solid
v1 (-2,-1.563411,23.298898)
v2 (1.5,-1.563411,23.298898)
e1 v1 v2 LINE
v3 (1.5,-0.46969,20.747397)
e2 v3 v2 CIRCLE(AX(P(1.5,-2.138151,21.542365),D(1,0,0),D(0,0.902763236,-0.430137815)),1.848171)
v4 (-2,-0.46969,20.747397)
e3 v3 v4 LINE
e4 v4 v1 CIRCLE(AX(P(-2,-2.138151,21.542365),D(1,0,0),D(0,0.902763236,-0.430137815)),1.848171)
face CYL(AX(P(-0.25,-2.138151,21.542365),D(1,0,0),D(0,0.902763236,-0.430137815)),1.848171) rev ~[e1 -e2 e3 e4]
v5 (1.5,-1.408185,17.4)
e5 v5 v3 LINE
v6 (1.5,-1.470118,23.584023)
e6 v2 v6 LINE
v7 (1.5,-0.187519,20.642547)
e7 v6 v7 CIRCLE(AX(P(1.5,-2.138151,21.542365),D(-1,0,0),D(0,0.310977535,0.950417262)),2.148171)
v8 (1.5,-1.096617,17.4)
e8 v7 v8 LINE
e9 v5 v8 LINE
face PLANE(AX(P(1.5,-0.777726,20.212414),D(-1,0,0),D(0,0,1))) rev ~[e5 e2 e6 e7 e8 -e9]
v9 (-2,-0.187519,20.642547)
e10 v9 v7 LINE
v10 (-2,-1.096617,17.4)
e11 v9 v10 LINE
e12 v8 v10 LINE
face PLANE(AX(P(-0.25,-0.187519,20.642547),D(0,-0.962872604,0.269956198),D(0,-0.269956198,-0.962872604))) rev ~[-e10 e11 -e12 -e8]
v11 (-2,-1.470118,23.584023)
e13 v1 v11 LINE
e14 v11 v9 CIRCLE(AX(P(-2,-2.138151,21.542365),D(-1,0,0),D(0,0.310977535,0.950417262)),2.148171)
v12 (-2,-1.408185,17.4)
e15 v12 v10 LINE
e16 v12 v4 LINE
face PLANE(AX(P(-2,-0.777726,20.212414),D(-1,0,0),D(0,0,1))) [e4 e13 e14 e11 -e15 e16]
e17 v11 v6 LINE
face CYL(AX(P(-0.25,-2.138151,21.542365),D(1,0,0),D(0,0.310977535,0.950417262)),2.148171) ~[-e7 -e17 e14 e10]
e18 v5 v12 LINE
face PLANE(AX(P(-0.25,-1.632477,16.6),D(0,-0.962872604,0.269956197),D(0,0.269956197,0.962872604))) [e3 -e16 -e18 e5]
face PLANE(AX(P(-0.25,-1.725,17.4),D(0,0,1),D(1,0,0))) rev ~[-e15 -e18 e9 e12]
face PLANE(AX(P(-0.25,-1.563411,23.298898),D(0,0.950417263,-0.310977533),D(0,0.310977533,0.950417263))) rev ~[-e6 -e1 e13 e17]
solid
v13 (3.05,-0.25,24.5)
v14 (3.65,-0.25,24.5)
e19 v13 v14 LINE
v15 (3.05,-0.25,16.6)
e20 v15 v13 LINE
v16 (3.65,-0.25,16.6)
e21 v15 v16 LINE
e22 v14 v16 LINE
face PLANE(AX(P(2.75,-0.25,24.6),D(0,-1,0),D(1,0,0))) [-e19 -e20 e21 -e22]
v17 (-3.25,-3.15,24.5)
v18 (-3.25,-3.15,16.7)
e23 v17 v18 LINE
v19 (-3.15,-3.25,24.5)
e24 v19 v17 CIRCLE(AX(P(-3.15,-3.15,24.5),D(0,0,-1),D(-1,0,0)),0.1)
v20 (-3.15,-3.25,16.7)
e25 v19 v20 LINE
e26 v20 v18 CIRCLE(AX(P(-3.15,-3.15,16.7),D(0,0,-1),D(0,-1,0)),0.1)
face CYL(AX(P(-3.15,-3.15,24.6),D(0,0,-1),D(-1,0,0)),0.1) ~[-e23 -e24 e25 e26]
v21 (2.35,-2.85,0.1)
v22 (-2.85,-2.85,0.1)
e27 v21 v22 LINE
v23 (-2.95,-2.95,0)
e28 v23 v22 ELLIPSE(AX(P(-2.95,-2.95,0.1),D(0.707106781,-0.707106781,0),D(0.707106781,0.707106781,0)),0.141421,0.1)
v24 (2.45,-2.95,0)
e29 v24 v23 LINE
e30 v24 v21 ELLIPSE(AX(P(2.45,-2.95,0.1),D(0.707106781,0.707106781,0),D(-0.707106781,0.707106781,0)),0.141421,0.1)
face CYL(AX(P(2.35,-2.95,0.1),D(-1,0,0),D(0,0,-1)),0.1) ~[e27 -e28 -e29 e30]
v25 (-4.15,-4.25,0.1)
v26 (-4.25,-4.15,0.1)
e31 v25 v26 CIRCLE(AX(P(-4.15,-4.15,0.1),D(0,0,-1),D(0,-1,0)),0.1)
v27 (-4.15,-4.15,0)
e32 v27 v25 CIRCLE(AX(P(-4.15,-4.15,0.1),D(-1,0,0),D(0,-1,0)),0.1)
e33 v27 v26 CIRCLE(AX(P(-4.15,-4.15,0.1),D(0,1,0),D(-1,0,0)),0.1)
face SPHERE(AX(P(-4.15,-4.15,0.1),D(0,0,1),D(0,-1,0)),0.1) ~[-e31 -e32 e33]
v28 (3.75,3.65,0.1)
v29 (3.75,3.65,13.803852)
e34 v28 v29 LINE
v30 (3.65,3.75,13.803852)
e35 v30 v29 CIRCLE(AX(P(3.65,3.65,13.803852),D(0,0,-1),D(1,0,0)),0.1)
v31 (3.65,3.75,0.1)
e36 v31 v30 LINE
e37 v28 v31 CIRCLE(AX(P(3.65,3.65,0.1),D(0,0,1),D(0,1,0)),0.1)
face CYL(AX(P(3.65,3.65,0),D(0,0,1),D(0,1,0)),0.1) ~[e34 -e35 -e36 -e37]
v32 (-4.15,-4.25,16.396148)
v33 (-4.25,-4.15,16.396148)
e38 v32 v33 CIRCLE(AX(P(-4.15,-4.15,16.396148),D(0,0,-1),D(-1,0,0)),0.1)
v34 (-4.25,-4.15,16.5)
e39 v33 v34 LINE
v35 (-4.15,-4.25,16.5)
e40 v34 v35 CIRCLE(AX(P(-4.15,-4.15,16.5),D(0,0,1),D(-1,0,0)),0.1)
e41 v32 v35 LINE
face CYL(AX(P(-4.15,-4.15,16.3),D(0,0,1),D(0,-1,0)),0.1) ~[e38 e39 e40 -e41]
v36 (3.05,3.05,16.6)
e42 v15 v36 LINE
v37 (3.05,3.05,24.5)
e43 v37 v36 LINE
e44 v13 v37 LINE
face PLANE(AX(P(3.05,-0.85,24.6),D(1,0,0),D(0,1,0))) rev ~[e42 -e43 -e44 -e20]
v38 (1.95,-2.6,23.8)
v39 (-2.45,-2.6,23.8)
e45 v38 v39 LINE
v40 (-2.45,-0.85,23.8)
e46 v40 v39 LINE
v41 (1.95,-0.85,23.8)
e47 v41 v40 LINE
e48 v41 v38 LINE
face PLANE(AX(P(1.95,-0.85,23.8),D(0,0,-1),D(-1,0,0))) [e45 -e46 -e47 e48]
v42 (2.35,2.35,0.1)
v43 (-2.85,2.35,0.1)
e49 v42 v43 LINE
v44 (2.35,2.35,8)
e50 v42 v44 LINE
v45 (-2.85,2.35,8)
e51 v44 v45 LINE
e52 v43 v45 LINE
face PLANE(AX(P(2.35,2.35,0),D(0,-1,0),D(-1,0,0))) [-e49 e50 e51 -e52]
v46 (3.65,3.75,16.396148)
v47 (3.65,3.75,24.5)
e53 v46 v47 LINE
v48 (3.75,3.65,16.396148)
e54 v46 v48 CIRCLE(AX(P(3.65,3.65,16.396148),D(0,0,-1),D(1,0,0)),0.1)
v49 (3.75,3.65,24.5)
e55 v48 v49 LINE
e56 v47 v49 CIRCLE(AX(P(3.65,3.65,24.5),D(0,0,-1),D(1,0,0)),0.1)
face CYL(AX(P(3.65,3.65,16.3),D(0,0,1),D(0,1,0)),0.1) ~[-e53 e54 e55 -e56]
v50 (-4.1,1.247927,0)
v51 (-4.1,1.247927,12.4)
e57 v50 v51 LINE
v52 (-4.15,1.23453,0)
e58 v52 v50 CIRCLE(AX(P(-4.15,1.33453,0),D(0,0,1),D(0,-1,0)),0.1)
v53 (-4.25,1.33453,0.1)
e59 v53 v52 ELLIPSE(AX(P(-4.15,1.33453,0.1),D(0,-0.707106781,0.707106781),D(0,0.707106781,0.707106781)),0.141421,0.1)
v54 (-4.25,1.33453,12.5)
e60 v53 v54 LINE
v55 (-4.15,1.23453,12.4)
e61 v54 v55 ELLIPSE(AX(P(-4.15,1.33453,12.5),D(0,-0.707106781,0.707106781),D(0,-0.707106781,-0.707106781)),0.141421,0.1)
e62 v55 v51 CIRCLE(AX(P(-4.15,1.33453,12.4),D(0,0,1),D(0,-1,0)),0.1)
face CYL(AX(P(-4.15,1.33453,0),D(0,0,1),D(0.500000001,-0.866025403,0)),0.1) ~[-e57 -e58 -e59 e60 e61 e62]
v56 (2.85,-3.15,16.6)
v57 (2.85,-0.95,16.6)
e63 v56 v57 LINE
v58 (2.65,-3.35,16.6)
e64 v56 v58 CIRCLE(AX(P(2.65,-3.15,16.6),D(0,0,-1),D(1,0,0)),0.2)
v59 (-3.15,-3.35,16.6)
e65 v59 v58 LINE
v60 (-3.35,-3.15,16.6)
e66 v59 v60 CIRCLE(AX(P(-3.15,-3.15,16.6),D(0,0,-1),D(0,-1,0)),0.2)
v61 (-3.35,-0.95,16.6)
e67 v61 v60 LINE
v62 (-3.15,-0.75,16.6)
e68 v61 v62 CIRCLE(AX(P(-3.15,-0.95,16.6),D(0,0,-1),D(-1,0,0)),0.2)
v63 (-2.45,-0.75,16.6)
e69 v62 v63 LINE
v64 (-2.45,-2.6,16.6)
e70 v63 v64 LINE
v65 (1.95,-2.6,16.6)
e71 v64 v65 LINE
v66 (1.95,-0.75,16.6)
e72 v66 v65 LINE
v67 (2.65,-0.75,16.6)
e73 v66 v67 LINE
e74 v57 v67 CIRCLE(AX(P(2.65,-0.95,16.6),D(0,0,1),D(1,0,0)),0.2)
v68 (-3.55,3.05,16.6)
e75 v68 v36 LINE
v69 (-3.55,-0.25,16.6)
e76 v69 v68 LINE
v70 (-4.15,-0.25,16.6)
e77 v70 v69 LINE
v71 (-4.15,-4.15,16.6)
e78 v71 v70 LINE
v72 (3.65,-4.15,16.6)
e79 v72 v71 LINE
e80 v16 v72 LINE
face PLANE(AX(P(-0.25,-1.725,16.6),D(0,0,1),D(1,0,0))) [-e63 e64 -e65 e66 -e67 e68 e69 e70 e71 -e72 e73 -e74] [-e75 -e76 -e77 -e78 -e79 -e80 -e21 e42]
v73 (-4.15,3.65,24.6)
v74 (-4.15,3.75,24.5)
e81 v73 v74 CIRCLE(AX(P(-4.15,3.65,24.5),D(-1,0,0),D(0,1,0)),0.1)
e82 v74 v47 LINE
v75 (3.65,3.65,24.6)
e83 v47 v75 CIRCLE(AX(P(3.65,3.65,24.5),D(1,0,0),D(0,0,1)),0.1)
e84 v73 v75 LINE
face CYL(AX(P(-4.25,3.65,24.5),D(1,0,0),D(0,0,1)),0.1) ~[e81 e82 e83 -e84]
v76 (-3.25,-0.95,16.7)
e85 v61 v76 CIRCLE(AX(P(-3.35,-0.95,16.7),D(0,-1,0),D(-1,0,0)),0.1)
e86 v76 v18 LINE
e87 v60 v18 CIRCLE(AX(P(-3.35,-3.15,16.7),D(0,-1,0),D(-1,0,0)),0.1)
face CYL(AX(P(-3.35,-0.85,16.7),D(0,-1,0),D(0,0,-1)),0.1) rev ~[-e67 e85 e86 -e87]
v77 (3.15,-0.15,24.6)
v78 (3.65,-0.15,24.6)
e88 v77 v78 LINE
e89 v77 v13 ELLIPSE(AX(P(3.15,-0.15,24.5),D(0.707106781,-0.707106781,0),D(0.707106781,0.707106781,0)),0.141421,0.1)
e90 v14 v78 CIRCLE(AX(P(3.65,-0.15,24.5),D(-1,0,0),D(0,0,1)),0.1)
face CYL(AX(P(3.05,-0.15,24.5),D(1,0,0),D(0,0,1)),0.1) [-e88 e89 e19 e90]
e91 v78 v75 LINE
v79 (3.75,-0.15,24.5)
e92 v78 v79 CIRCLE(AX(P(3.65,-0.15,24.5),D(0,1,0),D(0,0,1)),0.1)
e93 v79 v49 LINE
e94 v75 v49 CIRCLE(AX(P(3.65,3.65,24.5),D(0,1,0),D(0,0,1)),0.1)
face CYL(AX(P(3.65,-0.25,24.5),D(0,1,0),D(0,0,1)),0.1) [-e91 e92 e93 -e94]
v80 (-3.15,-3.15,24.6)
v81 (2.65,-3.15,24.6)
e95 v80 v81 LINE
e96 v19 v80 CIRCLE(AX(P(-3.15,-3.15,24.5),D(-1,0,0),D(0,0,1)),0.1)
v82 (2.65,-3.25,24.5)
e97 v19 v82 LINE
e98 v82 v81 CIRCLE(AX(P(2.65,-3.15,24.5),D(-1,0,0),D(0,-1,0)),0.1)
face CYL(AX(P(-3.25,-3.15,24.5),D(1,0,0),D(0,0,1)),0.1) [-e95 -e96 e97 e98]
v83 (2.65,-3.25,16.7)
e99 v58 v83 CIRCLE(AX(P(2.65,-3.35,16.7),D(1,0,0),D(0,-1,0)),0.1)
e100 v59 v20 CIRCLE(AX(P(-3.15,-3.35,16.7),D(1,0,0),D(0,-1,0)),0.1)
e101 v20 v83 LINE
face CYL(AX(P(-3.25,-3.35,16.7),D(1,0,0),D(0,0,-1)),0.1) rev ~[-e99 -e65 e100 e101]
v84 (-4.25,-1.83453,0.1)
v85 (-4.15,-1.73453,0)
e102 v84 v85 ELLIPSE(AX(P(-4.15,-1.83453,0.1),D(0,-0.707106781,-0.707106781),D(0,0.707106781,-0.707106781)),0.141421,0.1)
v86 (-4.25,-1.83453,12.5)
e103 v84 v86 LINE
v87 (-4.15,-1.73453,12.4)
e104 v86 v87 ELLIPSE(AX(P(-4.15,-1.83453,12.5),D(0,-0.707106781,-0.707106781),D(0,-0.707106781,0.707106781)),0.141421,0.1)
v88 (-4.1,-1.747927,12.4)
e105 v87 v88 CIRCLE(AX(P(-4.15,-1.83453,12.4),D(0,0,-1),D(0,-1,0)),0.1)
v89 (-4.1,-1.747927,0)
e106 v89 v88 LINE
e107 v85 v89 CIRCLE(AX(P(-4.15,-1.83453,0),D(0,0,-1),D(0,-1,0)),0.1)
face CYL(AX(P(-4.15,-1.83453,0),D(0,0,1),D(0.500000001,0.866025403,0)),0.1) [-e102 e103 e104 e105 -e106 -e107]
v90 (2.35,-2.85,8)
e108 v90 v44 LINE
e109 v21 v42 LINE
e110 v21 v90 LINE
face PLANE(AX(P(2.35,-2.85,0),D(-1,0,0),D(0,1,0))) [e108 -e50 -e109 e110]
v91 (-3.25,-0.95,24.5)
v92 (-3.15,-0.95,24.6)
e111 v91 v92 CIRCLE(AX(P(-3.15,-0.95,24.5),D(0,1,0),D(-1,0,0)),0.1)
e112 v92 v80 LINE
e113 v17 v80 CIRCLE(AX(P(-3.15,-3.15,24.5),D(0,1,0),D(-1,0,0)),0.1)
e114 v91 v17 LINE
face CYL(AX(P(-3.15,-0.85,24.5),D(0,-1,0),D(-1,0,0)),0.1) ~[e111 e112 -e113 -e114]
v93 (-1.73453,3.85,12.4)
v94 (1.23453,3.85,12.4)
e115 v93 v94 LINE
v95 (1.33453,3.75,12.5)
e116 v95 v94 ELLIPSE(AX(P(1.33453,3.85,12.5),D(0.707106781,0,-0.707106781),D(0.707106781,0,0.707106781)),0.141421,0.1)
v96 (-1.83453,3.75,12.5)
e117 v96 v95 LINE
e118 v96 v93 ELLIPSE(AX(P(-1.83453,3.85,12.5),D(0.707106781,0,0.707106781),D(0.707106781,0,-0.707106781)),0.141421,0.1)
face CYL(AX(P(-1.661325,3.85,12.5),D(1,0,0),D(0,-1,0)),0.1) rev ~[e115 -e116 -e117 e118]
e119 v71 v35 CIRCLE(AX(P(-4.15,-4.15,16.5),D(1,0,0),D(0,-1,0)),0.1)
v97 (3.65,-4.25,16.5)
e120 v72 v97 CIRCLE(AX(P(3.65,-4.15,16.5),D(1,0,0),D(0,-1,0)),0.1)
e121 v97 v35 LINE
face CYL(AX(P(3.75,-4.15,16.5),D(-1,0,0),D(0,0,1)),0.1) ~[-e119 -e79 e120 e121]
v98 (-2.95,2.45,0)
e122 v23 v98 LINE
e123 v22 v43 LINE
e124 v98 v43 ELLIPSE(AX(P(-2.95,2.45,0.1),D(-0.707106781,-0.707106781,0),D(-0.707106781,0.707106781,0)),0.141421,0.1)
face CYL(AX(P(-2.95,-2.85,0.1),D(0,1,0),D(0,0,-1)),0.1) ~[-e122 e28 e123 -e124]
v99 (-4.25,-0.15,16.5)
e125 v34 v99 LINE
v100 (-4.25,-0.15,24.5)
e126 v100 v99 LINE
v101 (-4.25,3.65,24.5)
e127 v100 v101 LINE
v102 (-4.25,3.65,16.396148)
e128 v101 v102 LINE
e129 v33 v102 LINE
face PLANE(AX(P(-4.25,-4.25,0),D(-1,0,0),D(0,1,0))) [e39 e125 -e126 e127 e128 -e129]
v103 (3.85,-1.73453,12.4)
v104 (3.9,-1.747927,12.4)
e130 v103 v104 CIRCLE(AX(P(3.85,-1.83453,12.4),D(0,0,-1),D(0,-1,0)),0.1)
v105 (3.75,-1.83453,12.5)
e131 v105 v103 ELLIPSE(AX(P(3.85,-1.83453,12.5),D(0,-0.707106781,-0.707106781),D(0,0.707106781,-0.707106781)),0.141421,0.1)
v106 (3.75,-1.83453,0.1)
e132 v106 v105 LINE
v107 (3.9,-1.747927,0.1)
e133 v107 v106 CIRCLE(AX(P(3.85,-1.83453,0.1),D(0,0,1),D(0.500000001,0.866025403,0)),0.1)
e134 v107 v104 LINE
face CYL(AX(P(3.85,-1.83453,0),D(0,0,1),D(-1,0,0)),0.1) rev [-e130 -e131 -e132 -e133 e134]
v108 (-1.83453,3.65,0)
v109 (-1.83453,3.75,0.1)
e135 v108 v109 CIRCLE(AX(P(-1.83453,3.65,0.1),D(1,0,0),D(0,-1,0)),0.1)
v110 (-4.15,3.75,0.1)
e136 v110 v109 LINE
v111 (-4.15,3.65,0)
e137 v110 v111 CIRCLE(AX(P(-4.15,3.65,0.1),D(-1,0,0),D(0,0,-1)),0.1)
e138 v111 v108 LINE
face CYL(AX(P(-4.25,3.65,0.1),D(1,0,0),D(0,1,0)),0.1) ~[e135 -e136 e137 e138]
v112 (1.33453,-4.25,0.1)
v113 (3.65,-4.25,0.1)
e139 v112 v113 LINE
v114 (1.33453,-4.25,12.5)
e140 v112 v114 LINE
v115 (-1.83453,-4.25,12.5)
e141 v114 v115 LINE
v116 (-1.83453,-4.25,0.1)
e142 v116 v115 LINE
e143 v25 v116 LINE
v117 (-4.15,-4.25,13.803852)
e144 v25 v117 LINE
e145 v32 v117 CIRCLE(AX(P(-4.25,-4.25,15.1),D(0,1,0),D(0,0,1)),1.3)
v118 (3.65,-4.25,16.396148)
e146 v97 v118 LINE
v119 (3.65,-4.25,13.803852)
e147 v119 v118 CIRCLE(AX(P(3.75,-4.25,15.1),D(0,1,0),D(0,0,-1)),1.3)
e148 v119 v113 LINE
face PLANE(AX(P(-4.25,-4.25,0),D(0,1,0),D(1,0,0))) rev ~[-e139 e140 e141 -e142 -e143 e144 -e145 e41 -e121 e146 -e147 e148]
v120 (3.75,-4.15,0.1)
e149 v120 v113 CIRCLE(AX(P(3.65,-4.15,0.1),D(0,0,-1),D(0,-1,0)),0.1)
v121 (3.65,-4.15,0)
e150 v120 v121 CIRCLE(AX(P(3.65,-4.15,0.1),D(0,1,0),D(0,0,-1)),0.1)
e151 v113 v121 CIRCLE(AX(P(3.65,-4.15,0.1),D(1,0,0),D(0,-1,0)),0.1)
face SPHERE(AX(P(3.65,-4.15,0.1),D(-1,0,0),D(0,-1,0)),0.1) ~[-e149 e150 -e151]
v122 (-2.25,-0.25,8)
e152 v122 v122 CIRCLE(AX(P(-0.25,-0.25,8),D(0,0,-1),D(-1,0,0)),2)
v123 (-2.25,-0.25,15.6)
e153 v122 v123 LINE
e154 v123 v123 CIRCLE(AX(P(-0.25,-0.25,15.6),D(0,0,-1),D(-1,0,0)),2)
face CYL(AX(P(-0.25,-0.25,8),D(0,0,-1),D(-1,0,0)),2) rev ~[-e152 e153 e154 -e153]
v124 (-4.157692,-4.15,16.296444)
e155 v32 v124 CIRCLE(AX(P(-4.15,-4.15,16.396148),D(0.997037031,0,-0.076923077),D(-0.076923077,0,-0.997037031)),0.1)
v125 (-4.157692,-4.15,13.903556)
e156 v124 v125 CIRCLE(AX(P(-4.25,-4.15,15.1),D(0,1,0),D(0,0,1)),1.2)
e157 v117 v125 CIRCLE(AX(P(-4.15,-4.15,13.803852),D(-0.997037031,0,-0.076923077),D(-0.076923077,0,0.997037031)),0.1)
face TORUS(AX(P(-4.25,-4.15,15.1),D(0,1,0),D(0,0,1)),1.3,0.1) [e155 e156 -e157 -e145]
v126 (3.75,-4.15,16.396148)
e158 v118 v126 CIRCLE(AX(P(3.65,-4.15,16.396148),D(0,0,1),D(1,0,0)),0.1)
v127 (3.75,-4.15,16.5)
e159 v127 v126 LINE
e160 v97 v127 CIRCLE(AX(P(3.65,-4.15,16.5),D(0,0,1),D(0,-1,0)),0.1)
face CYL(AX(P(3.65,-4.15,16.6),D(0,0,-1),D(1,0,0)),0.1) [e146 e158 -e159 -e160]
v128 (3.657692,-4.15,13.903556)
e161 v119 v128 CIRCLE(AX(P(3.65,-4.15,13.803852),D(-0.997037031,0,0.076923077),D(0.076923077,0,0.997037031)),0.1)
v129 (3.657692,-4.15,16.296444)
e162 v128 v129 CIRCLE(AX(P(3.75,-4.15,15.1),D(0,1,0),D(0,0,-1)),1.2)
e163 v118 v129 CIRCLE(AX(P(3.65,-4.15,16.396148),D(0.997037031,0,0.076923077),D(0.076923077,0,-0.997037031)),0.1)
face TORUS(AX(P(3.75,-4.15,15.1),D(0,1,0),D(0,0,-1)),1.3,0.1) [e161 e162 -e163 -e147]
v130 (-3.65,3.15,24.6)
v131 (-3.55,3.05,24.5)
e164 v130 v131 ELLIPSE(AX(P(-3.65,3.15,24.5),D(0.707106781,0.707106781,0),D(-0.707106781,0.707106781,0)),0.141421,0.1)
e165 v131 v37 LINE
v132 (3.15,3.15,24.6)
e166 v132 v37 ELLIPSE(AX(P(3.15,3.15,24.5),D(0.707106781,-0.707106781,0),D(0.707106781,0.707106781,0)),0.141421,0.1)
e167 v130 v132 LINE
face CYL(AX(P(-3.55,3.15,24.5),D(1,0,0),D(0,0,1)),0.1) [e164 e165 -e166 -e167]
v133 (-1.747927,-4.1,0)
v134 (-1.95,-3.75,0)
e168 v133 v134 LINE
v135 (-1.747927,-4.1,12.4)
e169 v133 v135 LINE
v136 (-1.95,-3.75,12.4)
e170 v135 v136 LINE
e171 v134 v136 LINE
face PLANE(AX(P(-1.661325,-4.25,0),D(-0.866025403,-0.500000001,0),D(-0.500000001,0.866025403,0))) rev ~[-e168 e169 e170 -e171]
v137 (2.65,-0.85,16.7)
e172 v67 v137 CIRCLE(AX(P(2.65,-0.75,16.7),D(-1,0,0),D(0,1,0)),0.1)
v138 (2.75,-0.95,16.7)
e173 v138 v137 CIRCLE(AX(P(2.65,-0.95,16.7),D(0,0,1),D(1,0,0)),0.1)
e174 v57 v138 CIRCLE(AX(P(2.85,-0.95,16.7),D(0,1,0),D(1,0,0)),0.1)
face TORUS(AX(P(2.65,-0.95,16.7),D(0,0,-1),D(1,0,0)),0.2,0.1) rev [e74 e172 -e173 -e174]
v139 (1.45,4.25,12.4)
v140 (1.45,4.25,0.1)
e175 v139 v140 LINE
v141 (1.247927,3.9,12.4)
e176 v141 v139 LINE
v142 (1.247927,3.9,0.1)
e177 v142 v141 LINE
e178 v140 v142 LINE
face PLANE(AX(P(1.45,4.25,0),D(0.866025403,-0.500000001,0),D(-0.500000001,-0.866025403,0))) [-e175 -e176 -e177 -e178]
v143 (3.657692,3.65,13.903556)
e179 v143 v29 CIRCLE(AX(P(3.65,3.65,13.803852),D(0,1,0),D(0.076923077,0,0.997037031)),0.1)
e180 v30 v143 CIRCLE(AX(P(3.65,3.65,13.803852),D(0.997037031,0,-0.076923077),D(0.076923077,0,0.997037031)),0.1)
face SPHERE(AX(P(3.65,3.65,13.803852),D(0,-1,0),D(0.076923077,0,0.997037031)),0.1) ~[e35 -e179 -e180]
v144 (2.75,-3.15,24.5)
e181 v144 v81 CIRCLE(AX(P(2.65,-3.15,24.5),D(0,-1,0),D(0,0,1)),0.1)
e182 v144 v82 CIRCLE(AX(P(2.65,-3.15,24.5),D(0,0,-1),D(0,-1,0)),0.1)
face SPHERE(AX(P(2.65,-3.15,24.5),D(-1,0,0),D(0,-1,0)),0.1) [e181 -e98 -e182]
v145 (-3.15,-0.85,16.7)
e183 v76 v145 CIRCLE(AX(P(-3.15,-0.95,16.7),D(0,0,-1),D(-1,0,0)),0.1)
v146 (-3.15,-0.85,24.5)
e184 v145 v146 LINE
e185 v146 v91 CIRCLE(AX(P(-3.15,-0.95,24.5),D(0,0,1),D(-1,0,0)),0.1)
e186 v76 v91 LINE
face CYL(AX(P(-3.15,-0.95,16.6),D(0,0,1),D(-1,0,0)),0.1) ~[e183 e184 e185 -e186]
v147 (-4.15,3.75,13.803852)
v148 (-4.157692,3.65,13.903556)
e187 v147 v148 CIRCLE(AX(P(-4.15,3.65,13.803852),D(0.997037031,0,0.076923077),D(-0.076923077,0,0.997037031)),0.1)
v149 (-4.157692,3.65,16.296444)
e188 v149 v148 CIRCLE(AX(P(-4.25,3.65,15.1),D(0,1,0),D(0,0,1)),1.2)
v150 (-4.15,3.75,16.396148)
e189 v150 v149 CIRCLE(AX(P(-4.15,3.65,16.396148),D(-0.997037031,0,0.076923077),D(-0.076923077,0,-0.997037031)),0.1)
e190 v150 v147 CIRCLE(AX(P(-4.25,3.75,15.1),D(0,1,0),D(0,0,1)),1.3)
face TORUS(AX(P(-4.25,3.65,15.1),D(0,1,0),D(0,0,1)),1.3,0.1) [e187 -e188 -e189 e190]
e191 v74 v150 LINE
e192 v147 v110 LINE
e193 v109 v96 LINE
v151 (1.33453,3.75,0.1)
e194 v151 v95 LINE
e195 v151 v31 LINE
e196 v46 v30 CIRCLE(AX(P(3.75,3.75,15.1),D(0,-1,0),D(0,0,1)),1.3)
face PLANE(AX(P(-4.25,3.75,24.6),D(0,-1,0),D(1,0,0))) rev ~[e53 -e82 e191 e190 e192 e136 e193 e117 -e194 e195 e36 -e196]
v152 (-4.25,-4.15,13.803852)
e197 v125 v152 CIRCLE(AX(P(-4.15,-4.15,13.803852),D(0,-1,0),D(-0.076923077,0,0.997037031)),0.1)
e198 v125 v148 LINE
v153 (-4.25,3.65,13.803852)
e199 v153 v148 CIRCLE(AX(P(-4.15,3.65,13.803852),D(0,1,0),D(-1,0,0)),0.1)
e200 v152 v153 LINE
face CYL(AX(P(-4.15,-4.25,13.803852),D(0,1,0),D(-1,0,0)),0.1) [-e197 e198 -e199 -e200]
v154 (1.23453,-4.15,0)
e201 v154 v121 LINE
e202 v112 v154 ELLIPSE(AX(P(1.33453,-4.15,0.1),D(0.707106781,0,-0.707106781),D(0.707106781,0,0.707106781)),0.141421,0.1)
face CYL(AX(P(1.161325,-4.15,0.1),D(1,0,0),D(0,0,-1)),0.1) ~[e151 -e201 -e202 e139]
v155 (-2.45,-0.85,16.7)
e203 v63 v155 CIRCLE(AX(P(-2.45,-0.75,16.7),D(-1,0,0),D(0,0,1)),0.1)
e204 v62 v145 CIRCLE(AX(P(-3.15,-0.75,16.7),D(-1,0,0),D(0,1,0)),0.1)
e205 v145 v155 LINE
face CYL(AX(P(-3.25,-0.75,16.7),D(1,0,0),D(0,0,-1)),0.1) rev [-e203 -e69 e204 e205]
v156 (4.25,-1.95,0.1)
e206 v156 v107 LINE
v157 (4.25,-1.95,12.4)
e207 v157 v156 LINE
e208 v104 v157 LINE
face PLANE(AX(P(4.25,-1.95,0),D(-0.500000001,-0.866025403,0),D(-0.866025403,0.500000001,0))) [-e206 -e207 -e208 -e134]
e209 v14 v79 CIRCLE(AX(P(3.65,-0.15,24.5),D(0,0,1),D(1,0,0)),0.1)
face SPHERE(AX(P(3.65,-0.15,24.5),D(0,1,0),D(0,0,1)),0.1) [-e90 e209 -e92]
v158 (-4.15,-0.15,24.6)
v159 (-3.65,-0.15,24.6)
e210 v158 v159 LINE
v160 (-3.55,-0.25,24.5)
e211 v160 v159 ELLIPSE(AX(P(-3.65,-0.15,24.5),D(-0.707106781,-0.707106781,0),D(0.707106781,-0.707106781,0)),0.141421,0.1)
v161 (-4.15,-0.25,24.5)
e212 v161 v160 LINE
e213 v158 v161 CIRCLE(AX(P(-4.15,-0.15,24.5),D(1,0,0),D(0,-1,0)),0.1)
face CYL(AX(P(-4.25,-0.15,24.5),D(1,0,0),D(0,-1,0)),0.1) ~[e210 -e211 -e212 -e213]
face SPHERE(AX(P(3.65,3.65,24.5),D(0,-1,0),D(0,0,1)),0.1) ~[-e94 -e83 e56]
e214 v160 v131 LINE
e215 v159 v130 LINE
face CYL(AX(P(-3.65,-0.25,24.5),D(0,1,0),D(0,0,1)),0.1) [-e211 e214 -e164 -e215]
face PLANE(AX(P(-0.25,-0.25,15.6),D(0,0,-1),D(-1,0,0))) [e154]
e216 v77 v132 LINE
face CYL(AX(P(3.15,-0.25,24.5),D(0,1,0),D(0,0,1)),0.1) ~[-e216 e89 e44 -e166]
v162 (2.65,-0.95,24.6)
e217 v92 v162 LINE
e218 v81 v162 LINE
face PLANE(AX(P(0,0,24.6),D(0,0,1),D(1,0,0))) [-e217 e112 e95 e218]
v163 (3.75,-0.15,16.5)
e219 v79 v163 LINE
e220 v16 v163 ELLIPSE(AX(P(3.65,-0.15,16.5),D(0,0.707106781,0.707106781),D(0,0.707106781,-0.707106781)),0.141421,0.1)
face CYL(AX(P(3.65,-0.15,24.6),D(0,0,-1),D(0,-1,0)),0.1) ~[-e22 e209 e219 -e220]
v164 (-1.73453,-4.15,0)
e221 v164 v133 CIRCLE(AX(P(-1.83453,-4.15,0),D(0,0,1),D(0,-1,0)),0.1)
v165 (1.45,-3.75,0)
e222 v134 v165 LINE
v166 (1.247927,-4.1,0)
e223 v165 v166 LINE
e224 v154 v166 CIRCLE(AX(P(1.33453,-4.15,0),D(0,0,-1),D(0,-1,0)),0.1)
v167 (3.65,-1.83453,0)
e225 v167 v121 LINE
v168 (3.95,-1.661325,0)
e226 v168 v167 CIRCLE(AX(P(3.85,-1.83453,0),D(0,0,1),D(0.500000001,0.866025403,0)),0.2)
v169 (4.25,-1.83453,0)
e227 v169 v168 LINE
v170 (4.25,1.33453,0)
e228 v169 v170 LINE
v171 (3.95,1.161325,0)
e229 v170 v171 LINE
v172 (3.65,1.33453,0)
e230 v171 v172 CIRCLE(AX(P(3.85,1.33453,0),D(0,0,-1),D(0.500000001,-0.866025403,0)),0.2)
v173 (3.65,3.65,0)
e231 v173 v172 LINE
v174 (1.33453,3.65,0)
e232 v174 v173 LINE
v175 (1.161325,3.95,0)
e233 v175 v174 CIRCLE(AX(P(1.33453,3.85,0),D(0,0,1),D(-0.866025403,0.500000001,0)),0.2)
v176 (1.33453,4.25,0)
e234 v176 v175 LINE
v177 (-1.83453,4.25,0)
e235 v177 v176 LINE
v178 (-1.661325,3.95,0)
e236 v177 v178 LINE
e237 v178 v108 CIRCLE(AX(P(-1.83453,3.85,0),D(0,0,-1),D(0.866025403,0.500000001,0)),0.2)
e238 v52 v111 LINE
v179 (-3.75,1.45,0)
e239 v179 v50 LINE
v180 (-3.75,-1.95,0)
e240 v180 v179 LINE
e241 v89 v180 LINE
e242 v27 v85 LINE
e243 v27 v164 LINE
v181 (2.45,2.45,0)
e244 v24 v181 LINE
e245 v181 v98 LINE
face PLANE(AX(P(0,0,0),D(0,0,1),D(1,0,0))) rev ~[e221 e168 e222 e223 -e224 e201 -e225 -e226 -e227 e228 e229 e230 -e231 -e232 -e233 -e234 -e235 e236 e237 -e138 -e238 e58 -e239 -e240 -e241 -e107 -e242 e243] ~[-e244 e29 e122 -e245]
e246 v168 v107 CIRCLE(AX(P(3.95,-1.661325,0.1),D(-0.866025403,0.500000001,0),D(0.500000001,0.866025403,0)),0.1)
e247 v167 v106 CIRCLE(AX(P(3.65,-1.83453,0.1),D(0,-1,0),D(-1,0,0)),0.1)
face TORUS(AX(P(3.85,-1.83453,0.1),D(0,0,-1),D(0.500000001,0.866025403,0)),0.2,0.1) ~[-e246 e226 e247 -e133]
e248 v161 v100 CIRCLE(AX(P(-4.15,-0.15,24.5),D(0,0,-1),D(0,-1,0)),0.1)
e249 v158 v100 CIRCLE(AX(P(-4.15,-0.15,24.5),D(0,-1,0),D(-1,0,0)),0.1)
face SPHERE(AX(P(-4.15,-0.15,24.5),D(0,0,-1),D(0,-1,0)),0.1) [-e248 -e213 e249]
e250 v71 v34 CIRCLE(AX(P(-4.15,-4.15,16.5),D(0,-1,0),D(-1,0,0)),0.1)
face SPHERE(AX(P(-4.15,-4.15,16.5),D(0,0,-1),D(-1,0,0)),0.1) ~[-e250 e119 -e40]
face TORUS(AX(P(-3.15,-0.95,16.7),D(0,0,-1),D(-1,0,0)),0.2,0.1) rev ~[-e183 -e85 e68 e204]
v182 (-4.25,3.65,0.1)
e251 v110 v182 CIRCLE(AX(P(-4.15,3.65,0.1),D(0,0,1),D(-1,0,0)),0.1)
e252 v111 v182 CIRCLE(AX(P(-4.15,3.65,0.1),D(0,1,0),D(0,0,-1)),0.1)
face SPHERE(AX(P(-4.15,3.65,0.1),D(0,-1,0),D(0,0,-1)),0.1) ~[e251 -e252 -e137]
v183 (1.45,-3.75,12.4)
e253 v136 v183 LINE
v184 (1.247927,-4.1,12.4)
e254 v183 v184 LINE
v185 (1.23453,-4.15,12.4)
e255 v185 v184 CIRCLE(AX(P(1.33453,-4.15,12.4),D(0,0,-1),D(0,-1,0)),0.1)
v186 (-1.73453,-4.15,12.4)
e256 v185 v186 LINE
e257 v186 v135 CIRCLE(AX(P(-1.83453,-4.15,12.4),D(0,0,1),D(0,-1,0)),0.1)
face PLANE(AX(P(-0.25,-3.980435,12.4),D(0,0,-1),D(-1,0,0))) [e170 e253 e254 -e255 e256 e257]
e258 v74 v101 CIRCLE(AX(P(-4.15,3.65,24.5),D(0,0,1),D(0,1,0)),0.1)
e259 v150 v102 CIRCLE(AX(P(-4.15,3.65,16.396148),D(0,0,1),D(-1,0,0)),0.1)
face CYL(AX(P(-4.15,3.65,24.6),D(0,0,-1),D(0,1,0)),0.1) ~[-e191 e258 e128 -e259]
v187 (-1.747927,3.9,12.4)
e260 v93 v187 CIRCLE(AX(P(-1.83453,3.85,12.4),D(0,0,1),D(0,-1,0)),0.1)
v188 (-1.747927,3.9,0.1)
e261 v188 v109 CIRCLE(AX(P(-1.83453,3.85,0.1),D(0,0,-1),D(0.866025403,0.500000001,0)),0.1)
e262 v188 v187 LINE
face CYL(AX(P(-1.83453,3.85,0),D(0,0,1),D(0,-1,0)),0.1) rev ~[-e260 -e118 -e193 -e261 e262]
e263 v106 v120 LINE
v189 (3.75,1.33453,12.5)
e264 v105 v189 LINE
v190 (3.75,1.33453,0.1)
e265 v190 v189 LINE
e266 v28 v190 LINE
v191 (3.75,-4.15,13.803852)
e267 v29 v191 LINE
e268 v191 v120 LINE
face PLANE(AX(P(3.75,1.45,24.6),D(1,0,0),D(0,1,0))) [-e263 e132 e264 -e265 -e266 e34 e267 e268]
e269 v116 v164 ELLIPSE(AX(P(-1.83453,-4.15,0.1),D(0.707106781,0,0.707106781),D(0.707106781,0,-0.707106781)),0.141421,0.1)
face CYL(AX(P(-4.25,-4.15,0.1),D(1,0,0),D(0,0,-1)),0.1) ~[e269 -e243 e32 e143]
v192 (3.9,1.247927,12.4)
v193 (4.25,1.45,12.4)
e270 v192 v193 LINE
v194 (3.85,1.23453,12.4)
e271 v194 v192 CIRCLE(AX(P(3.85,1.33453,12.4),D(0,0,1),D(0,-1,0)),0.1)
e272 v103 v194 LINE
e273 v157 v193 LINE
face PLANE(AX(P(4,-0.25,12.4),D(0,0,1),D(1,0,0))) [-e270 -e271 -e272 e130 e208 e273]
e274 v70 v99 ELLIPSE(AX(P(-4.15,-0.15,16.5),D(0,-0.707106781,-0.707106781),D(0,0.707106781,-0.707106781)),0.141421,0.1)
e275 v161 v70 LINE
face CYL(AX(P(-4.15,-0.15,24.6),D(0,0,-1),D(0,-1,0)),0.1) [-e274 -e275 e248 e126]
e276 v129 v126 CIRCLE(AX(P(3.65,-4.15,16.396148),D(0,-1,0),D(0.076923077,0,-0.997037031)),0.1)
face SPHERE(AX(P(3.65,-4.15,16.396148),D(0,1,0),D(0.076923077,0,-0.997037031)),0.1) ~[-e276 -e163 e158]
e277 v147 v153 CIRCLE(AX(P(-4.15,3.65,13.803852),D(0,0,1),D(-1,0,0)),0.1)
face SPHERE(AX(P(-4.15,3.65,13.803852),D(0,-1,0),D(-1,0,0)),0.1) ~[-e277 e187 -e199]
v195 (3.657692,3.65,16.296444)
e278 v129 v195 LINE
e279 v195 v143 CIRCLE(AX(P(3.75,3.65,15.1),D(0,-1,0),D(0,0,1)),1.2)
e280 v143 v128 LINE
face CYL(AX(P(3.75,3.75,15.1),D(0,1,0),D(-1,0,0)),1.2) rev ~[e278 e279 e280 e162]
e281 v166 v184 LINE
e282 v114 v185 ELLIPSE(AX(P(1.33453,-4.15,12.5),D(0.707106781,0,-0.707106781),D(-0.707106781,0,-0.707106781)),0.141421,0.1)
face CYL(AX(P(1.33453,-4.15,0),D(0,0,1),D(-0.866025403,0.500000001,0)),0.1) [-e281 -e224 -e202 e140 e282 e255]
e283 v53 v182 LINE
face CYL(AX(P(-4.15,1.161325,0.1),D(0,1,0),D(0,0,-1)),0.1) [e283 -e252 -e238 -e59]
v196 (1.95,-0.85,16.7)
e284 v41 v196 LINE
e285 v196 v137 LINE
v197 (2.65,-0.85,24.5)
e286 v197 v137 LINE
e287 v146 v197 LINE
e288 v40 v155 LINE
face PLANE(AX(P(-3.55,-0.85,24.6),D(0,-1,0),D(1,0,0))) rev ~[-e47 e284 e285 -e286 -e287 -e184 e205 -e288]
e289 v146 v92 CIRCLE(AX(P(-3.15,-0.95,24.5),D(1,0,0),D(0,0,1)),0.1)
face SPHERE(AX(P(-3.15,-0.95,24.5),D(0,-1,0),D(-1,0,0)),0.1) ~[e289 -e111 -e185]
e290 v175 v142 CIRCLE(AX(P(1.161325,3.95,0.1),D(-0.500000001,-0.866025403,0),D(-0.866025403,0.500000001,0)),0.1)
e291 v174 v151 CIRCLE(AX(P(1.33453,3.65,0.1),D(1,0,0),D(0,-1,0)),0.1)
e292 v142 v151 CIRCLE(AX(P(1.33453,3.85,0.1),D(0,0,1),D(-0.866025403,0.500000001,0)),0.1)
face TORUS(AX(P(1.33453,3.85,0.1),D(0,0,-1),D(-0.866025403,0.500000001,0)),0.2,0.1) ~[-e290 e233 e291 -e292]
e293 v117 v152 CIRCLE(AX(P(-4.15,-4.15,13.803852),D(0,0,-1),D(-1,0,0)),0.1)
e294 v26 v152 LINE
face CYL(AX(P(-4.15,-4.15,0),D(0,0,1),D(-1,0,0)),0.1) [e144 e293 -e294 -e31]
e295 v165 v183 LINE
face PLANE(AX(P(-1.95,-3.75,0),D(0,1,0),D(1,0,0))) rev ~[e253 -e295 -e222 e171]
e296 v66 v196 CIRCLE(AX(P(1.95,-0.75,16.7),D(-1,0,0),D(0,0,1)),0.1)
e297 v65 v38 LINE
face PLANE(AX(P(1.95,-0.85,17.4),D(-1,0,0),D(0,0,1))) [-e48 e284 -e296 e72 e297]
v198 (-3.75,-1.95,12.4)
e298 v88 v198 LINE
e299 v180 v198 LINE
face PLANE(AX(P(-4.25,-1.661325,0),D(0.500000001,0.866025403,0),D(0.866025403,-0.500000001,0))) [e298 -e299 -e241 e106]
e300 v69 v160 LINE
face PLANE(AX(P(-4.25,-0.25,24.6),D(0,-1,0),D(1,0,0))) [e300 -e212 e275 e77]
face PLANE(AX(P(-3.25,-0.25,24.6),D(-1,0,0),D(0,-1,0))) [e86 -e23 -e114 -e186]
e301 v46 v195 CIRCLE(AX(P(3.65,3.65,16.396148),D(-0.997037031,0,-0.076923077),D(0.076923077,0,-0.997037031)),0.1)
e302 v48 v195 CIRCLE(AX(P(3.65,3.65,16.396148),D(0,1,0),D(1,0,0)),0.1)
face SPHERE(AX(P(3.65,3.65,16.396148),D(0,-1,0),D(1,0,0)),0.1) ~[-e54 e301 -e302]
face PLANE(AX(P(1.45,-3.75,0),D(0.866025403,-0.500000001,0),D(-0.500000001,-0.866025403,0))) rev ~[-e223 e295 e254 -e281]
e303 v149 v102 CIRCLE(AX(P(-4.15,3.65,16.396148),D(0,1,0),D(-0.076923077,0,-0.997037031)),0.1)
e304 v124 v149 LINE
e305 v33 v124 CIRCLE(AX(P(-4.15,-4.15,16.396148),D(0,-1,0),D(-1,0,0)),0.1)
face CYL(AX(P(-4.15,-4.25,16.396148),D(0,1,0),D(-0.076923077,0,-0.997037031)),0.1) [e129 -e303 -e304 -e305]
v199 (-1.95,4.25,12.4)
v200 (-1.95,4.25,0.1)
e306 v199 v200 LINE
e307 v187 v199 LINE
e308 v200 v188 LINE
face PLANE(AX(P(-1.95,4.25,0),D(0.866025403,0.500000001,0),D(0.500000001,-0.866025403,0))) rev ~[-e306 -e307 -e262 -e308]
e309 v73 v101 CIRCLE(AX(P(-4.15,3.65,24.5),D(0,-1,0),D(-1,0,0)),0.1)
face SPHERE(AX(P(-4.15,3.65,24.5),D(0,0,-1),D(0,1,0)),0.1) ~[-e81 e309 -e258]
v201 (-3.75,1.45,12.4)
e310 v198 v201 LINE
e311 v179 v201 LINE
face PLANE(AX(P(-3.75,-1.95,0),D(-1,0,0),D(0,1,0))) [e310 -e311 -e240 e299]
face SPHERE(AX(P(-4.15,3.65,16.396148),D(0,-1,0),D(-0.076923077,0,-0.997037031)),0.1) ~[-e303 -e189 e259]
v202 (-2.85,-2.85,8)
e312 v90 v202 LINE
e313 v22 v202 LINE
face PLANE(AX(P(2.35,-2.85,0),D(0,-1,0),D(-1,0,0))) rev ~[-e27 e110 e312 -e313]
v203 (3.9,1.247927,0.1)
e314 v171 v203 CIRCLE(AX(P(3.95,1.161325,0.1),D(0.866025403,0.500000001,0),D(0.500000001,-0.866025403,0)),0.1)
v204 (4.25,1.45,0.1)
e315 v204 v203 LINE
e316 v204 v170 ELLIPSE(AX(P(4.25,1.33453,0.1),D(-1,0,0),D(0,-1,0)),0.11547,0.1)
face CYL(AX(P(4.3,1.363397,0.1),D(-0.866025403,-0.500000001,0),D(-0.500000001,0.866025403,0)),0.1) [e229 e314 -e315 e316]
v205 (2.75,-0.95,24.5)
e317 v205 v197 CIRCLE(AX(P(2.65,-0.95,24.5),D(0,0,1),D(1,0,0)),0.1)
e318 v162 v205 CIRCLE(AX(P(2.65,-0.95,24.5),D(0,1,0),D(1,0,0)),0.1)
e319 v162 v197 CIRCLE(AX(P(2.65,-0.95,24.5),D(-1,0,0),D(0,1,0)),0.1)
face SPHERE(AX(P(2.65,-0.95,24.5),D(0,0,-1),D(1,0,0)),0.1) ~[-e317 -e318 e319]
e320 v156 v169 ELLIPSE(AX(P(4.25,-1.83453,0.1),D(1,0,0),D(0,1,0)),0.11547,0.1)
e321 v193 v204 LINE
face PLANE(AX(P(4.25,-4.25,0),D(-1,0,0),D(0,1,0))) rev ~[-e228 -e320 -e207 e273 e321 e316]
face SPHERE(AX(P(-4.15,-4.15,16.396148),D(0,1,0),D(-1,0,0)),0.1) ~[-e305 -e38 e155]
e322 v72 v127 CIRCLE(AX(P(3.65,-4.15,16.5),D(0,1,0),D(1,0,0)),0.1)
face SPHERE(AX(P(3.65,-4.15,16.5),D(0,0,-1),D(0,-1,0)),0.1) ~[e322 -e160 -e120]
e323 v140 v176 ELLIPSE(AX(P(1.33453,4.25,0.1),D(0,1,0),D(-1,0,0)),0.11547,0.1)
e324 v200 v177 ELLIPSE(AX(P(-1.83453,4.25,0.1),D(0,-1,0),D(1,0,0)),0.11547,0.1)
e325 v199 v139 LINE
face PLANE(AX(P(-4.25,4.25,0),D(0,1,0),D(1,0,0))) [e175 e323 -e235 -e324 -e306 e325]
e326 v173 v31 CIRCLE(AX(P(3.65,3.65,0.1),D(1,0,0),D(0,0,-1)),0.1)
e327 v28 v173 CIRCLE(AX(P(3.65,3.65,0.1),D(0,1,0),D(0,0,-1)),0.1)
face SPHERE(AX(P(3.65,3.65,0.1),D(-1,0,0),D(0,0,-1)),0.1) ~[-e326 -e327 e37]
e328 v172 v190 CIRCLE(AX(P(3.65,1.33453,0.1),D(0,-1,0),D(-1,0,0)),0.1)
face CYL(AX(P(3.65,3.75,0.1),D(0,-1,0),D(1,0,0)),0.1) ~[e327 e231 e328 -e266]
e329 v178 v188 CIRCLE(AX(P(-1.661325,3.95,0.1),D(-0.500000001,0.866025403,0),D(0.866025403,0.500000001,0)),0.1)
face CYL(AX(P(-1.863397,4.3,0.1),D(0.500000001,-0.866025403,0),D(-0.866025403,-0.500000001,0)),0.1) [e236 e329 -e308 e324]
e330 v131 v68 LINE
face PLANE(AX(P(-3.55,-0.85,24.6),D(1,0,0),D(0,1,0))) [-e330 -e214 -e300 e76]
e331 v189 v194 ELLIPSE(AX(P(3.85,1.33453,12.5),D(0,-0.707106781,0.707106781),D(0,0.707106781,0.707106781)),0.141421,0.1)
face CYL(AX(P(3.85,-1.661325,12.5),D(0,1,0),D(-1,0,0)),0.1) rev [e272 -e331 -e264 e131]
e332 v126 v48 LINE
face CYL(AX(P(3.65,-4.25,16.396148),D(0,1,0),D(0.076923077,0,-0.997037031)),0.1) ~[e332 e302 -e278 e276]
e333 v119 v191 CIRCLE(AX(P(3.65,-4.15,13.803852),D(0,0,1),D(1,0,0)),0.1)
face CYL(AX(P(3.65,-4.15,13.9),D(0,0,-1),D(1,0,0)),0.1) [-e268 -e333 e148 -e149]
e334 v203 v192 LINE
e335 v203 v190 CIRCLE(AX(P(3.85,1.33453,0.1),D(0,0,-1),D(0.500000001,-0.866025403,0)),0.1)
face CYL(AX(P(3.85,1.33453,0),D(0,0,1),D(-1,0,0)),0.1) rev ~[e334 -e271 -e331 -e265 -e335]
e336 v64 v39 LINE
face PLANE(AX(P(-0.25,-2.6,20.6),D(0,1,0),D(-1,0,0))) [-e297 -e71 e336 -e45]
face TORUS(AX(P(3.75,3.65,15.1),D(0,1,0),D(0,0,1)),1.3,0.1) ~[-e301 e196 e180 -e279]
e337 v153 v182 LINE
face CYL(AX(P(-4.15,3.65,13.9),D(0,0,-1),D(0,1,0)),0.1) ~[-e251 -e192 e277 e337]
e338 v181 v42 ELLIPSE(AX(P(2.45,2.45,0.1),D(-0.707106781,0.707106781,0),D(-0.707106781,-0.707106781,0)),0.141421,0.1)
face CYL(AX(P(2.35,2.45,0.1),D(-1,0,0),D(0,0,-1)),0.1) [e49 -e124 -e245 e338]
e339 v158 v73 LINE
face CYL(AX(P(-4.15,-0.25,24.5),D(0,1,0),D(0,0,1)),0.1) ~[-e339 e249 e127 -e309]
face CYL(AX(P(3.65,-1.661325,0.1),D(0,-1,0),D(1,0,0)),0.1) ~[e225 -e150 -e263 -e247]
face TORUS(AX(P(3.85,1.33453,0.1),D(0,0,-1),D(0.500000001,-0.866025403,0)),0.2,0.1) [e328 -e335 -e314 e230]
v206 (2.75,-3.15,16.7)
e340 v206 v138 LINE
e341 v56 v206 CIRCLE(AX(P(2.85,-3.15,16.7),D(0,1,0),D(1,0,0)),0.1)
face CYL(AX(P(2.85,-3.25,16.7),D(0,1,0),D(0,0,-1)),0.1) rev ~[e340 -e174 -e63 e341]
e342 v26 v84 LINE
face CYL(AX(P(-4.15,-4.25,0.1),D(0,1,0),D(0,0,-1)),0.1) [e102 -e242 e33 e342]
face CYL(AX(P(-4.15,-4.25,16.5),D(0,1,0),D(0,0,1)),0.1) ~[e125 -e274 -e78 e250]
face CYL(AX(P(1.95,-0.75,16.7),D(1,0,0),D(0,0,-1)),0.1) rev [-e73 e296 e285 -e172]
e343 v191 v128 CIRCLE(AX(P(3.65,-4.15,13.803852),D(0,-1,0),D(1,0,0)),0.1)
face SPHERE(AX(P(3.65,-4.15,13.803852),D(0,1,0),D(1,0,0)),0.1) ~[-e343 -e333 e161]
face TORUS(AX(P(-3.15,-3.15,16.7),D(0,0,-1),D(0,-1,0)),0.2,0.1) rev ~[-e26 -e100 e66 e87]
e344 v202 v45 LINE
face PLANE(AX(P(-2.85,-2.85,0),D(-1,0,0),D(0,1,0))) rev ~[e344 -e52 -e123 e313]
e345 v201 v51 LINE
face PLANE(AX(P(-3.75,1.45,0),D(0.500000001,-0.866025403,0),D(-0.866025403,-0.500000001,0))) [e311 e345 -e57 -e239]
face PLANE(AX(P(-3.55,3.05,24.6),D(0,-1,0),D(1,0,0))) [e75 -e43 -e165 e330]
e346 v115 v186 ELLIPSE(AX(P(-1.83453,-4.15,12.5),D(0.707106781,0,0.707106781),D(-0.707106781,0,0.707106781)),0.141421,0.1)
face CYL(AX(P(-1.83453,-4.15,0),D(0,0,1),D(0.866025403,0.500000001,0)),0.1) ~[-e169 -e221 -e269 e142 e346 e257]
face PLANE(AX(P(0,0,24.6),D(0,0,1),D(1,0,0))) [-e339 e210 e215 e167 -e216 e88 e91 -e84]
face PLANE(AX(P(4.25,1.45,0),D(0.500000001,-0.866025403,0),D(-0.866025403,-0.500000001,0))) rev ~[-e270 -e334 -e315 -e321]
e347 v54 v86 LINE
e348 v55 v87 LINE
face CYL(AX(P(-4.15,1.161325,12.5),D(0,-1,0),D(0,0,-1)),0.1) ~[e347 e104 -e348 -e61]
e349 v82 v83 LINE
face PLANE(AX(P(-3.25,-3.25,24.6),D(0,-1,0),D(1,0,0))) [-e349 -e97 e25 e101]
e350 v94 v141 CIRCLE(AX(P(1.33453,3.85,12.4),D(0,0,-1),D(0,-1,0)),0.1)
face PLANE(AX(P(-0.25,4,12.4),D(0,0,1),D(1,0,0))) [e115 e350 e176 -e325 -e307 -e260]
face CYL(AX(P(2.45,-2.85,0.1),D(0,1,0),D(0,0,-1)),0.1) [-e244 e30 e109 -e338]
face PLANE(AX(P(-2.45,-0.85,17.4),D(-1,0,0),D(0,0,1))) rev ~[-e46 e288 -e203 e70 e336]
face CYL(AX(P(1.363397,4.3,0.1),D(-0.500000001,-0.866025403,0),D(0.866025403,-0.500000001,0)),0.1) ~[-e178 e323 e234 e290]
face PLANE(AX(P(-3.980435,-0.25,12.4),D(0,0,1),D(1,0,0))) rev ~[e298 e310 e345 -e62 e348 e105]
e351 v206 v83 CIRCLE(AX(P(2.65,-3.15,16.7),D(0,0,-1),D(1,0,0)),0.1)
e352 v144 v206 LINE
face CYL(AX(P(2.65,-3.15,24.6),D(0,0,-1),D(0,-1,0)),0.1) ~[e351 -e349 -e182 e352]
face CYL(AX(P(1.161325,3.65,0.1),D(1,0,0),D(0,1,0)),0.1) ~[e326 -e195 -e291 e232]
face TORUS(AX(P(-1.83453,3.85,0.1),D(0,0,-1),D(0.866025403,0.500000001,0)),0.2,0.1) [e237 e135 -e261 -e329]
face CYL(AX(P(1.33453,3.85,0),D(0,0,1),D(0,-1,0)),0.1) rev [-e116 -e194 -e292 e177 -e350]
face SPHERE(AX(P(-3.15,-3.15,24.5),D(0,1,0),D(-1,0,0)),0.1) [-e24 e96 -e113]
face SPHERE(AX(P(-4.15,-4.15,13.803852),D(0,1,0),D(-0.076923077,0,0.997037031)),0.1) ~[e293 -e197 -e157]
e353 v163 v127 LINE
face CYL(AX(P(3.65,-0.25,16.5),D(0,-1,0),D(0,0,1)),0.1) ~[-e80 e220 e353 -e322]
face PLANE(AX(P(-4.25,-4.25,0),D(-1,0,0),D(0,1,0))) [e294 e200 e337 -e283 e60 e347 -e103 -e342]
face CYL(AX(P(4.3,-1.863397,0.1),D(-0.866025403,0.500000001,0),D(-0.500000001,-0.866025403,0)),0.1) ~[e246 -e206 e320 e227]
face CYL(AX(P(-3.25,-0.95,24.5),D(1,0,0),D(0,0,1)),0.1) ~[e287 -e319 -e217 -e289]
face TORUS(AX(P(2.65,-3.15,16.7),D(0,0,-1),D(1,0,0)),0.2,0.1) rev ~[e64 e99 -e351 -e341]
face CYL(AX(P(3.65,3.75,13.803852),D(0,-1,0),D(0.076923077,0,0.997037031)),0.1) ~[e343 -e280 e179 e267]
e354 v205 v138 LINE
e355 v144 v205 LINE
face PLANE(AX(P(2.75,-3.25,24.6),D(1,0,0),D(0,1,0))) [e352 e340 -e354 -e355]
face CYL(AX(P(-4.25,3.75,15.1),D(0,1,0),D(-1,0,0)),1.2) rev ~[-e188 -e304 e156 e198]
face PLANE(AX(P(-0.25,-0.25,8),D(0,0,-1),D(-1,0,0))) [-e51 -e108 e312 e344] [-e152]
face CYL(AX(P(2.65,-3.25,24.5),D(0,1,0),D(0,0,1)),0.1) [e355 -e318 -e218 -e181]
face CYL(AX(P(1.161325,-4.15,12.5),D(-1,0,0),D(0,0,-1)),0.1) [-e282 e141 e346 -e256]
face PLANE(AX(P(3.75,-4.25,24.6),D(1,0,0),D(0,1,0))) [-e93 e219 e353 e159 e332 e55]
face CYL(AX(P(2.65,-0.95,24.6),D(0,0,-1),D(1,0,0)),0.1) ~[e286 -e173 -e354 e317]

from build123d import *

# Parameters (mm, degrees)
ESQUISSE1_W              = 8.5
ESQUISSE1_H              = 8.5
EXTRUSION1_DEPTH         = 24.6
ESQUISSE6_W              = 3.050497429
ESQUISSE6_H              = 0.5
ESQUISSE6_W_2            = 2.3
ENL_V_MAT_EXTRU_4_DEPTH  = 25.6
ESQUISSE2_W              = 0.5
ESQUISSE2_H              = 2.8
ESQUISSE2_H_2            = 2.3
ENL_V_MAT_EXTRU_1_DEPTH  = 25.6
ESQUISSE4_R              = 1.2
ENL_V_MAT_EXTRU_3_DEPTH  = 9
ESQUISSE11_W             = 3.4
ESQUISSE11_H             = 0.5
ESQUISSE11_W_2           = 0.5
ESQUISSE11_H_2           = 3.4
ENL_V_MAT_EXTRU_9_DEPTH  = 12.2
ENL_V_MAT_EXTRU_5_DEPTH  = 8
ESQUISSE7_W              = 6.6
ESQUISSE7_H              = 3.9
ENL_V_MAT_EXTRU_6_DEPTH  = 8
ESQUISSE8_W              = 5.2
ESQUISSE8_H              = 5.2
ENL_V_MAT_EXTRU_7_DEPTH  = 8
ENL_V_MAT_EXTRU_8_DEPTH  = 13
ENL_V_MAT_EXTRU_10_DEPTH = 12.4
ESQUISSE14_W             = 4.4
ESQUISSE14_H             = 6.4
ENL_V_MAT_EXTRU_11_DEPTH = 1.75
EXTRUSION2_DEPTH         = 1.75
EXTRUSION2_DEPTH_BACK    = 1.75
ESQUISSE15_W             = 4.4
ESQUISSE15_H             = 1.75
ENL_V_MAT_EXTRU_12_DEPTH = 0.8
FILLET1_R                = 0.1
SKETCH1_R                = 2
CUT_EXTRUDE1_DEPTH       = 7.6


with BuildPart() as part:
    # Esquisse1 → Extrusion1 (new body)
    with BuildSketch(Plane.XY):
        Rectangle(ESQUISSE1_W, ESQUISSE1_H)
    extrude(amount=EXTRUSION1_DEPTH)

    # Esquisse6 → Enlèv. mat.-Extru.4 (cut, through all)
    with BuildSketch(Plane.XY.offset(24.6)):
        with Locations((2.975248715, 4)):
            Rectangle(ESQUISSE6_W, ESQUISSE6_H)
        with Locations((-3.1, 4)):
            Rectangle(ESQUISSE6_W_2, ESQUISSE6_H)
    extrude(amount=-ENL_V_MAT_EXTRU_4_DEPTH, mode=Mode.SUBTRACT)

    # Esquisse2 → Enlèv. mat.-Extru.1 (cut, through all)
    with BuildSketch(Plane.XY.offset(24.6)):
        with Locations((4, 2.85)):
            Rectangle(ESQUISSE2_W, ESQUISSE2_H)
        with Locations((4, -3.1)):
            Rectangle(ESQUISSE2_W, ESQUISSE2_H_2)
    extrude(amount=-ENL_V_MAT_EXTRU_1_DEPTH, mode=Mode.SUBTRACT)

    # Esquisse4 → Enlèv. mat.-Extru.3 (cut, through all)
    with BuildSketch(Plane(origin=(0, 3.75, 0), x_dir=(-1, 0, 0), z_dir=(0, 1, 0))):
        with Locations((-3.75, 15.1)):
            Circle(ESQUISSE4_R)
        with Locations((4.25, 15.1)):
            Circle(ESQUISSE4_R)
    extrude(amount=-ENL_V_MAT_EXTRU_3_DEPTH, mode=Mode.SUBTRACT)

    # Esquisse11 → Enlèv. mat.-Extru.9 (cut)
    with BuildSketch(Plane.XY.offset(24.6)):
        with Locations((-0.25, 4)):
            Rectangle(ESQUISSE11_W, ESQUISSE11_H)
        with Locations((4, -0.25)):
            Rectangle(ESQUISSE11_W_2, ESQUISSE11_H_2)
    extrude(amount=-ENL_V_MAT_EXTRU_9_DEPTH, mode=Mode.SUBTRACT)

    # Esquisse5 → Enlèv. mat.-Extru.5 (cut)
    with BuildSketch(Plane.XY.offset(24.6)):
        Polygon((-4.25, -0.25), (-3.25, -0.25), (-3.25, -3.25), (2.75, -3.25), (2.75, -0.25), (3.75, -0.25), (3.75, -4.25), (-4.25, -4.25), align=None)
    extrude(amount=-ENL_V_MAT_EXTRU_5_DEPTH, mode=Mode.SUBTRACT)

    # Esquisse7 → Enlèv. mat.-Extru.6 (cut)
    with BuildSketch(Plane.XY.offset(24.6)):
        with Locations((-0.25, 1.1)):
            Rectangle(ESQUISSE7_W, ESQUISSE7_H)
    extrude(amount=-ENL_V_MAT_EXTRU_6_DEPTH, mode=Mode.SUBTRACT)

    # Esquisse8 → Enlèv. mat.-Extru.7 (cut)
    with BuildSketch(Plane(origin=(0, 0, 0), x_dir=(-1, 0, 0), z_dir=(0, 0, -1))):
        with Locations((0.25, -0.25)):
            Rectangle(ESQUISSE8_W, ESQUISSE8_H)
    extrude(amount=-ENL_V_MAT_EXTRU_7_DEPTH, mode=Mode.SUBTRACT)

    # Esquisse9 → Enlèv. mat.-Extru.8 (cut)
    with BuildSketch(Plane(origin=(0, 0, 0), x_dir=(-1, 0, 0), z_dir=(0, 0, -1))):
        Polygon((-1.45, 4.25), (-1.161324865, 3.75), (-1.45, 3.75), align=None)
        Polygon((1.95, 3.75), (1.95, 4.25), (1.661324865, 3.75), align=None)
        Polygon((-4.25, 1.45), (-3.75, 1.161324865), (-3.75, 1.45), align=None)
        Polygon((-3.75, -1.95), (-4.25, -1.95), (-3.75, -1.661324865), align=None)
    extrude(amount=-ENL_V_MAT_EXTRU_8_DEPTH, mode=Mode.SUBTRACT)

    # Esquisse12 → Enlèv. mat.-Extru.10 (cut)
    with BuildSketch(Plane(origin=(0, 0, 0), x_dir=(-1, 0, 0), z_dir=(0, 0, -1))):
        Polygon((4.25, 1.161324865), (4.25, -1.661324865), (3.75, -1.95), (3.75, 1.45), align=None)
        Polygon((-1.161324865, -4.25), (1.661324865, -4.25), (1.95, -3.75), (-1.45, -3.75), align=None)
    extrude(amount=-ENL_V_MAT_EXTRU_10_DEPTH, mode=Mode.SUBTRACT)

    # Esquisse14 → Enlèv. mat.-Extru.11 (cut)
    with BuildSketch(Plane(origin=(0, -0.85, 0), x_dir=(-1, 0, 0), z_dir=(0, 1, 0))):
        with Locations((0.25, 20.6)):
            Rectangle(ESQUISSE14_W, ESQUISSE14_H)
    extrude(amount=-ENL_V_MAT_EXTRU_11_DEPTH, mode=Mode.SUBTRACT)

    # Esquisse13 → Extrusion2 (add, two sides)
    with BuildSketch(Plane(origin=(-0.25, 0, 0), x_dir=(0, 0, -1), z_dir=(1, 0, 0))) as extrusion2_sk:
        with BuildLine():
            Line((-20.64254699, -0.187518889), (-16.6, -1.320909339))
            Line((-16.6, -1.320909339), (-16.6, -1.632477036))
            Line((-16.6, -1.632477036), (-20.747396642, -0.469690368))
            ThreePointArc((-20.747396642, -0.469690368), (-22.270518835, -0.439467142), (-23.29889814, -1.563411385))
            Line((-23.29889814, -1.563411385), (-23.584023319, -1.470118125))
            ThreePointArc((-23.584023319, -1.470118125), (-22.400977187, -0.169033845), (-20.64254699, -0.187518889))
        make_face()
    extrude(amount=EXTRUSION2_DEPTH)
    extrude(extrusion2_sk.sketch, amount=-EXTRUSION2_DEPTH_BACK)

    # Esquisse15 → Enlèv. mat.-Extru.12 (cut)
    with BuildSketch(Plane.XY.offset(17.4)):
        with Locations((-0.25, -1.725)):
            Rectangle(ESQUISSE15_W, ESQUISSE15_H)
    extrude(amount=-ENL_V_MAT_EXTRU_12_DEPTH, mode=Mode.SUBTRACT)

    # Fillet1
    fillet1_edges = [part.edges().sort_by_distance(p)[0] for p in [
        (1.161324865, -4.25, 6.2),
        (-1.805662433, 4, 0),
        (4, 1.305662433, 0),
        (3.75, -1.661324865, 6.2),
        (4, -1.805662433, 0),
        (-4.25, -0.25, 12.4),
        (2.455662433, -4.25, 0),
        (-4.25, 1.161324865, 6.2),
        (-0.25, -4.25, 12.4),
        (3.75, -4.25, 6.95),
        (-1.661324865, -4.25, 6.2),
        (2.55, -4.25, 15.1),
        (3.75, -4.25, 16.45),
        (-4.25, -4.25, 16.45),
        (-3.05, -4.25, 15.1),
        (-4.25, -4.25, 6.95),
        (-2.955662433, -4.25, 0),
        (-4.25, -1.661324865, 6.2),
        (-4.25, -2.955662433, 0),
        (-4.25, -0.25, 13.9),
        (-4.25, 2.455662433, 0),
        (3.75, 1.75, 24.6),
        (3.75, -0.25, 16.3),
        (-4.25, -0.25, 20.6),
        (-4.25, -0.25, 16.3),
        (-2.955662433, 3.75, 0),
        (2.455662433, 3.75, 0),
        (3.75, 2.455662433, 0),
        (3.75, -2.955662433, 0),
        (-1.661324865, 3.75, 6.2),
        (-4.25, 3.75, 6.95),
        (-3.05, 3.75, 15.1),
        (-4.25, 3.75, 20.45),
        (-0.25, 3.75, 24.6),
        (3.75, 3.75, 20.45),
        (3.75, 3.75, 6.95),
        (3.75, 1.161324865, 6.2),
        (3.75, -0.25, 13.9),
        (2.55, 3.75, 15.1),
        (-0.25, 3.75, 12.4),
        (3.75, -0.25, 12.4),
        (-3.9, -0.25, 24.6),
        (-3.25, -2.05, 24.6),
        (-3.25, -0.85, 20.6),
        (-3.25, -3.25, 20.6),
        (-0.25, -3.25, 24.6),
        (2.75, -3.25, 20.6),
        (2.75, -0.85, 20.6),
        (2.75, -2.05, 24.6),
        (3.4, -0.25, 24.6),
        (3.75, -0.25, 20.6),
        (-4.25, -2.25, 16.6),
        (-0.25, -4.25, 16.6),
        (3.75, -2.25, 16.6),
        (2.75, -2.05, 16.6),
        (-0.25, -3.25, 16.6),
        (-3.25, -2.05, 16.6),
        (-3.55, 1.4, 24.6),
        (3.05, 1.4, 24.6),
        (2.35, -0.85, 16.6),
        (-2.85, -0.85, 16.6),
        (-0.25, -0.85, 24.6),
        (-0.25, 3.05, 24.6),
        (-0.25, 2.35, 0),
        (-2.85, -0.25, 0),
        (-0.25, -2.85, 0),
        (-4.25, 1.75, 24.6),
        (2.35, -0.25, 0),
        (1.161324865, 3.75, 6.2),
        (1.305662433, 4, 0),
    ]]
    fillet(fillet1_edges, radius=FILLET1_R)

    # Sketch1 → Cut-Extrude1 (cut)
    with BuildSketch(Plane(origin=(0, 0, 8), x_dir=(-1, 0, 0), z_dir=(0, 0, -1))):
        with Locations((0.25, -0.25)):
            Circle(SKETCH1_R)
    extrude(amount=-CUT_EXTRUDE1_DEPTH, mode=Mode.SUBTRACT)


solid = part.part
